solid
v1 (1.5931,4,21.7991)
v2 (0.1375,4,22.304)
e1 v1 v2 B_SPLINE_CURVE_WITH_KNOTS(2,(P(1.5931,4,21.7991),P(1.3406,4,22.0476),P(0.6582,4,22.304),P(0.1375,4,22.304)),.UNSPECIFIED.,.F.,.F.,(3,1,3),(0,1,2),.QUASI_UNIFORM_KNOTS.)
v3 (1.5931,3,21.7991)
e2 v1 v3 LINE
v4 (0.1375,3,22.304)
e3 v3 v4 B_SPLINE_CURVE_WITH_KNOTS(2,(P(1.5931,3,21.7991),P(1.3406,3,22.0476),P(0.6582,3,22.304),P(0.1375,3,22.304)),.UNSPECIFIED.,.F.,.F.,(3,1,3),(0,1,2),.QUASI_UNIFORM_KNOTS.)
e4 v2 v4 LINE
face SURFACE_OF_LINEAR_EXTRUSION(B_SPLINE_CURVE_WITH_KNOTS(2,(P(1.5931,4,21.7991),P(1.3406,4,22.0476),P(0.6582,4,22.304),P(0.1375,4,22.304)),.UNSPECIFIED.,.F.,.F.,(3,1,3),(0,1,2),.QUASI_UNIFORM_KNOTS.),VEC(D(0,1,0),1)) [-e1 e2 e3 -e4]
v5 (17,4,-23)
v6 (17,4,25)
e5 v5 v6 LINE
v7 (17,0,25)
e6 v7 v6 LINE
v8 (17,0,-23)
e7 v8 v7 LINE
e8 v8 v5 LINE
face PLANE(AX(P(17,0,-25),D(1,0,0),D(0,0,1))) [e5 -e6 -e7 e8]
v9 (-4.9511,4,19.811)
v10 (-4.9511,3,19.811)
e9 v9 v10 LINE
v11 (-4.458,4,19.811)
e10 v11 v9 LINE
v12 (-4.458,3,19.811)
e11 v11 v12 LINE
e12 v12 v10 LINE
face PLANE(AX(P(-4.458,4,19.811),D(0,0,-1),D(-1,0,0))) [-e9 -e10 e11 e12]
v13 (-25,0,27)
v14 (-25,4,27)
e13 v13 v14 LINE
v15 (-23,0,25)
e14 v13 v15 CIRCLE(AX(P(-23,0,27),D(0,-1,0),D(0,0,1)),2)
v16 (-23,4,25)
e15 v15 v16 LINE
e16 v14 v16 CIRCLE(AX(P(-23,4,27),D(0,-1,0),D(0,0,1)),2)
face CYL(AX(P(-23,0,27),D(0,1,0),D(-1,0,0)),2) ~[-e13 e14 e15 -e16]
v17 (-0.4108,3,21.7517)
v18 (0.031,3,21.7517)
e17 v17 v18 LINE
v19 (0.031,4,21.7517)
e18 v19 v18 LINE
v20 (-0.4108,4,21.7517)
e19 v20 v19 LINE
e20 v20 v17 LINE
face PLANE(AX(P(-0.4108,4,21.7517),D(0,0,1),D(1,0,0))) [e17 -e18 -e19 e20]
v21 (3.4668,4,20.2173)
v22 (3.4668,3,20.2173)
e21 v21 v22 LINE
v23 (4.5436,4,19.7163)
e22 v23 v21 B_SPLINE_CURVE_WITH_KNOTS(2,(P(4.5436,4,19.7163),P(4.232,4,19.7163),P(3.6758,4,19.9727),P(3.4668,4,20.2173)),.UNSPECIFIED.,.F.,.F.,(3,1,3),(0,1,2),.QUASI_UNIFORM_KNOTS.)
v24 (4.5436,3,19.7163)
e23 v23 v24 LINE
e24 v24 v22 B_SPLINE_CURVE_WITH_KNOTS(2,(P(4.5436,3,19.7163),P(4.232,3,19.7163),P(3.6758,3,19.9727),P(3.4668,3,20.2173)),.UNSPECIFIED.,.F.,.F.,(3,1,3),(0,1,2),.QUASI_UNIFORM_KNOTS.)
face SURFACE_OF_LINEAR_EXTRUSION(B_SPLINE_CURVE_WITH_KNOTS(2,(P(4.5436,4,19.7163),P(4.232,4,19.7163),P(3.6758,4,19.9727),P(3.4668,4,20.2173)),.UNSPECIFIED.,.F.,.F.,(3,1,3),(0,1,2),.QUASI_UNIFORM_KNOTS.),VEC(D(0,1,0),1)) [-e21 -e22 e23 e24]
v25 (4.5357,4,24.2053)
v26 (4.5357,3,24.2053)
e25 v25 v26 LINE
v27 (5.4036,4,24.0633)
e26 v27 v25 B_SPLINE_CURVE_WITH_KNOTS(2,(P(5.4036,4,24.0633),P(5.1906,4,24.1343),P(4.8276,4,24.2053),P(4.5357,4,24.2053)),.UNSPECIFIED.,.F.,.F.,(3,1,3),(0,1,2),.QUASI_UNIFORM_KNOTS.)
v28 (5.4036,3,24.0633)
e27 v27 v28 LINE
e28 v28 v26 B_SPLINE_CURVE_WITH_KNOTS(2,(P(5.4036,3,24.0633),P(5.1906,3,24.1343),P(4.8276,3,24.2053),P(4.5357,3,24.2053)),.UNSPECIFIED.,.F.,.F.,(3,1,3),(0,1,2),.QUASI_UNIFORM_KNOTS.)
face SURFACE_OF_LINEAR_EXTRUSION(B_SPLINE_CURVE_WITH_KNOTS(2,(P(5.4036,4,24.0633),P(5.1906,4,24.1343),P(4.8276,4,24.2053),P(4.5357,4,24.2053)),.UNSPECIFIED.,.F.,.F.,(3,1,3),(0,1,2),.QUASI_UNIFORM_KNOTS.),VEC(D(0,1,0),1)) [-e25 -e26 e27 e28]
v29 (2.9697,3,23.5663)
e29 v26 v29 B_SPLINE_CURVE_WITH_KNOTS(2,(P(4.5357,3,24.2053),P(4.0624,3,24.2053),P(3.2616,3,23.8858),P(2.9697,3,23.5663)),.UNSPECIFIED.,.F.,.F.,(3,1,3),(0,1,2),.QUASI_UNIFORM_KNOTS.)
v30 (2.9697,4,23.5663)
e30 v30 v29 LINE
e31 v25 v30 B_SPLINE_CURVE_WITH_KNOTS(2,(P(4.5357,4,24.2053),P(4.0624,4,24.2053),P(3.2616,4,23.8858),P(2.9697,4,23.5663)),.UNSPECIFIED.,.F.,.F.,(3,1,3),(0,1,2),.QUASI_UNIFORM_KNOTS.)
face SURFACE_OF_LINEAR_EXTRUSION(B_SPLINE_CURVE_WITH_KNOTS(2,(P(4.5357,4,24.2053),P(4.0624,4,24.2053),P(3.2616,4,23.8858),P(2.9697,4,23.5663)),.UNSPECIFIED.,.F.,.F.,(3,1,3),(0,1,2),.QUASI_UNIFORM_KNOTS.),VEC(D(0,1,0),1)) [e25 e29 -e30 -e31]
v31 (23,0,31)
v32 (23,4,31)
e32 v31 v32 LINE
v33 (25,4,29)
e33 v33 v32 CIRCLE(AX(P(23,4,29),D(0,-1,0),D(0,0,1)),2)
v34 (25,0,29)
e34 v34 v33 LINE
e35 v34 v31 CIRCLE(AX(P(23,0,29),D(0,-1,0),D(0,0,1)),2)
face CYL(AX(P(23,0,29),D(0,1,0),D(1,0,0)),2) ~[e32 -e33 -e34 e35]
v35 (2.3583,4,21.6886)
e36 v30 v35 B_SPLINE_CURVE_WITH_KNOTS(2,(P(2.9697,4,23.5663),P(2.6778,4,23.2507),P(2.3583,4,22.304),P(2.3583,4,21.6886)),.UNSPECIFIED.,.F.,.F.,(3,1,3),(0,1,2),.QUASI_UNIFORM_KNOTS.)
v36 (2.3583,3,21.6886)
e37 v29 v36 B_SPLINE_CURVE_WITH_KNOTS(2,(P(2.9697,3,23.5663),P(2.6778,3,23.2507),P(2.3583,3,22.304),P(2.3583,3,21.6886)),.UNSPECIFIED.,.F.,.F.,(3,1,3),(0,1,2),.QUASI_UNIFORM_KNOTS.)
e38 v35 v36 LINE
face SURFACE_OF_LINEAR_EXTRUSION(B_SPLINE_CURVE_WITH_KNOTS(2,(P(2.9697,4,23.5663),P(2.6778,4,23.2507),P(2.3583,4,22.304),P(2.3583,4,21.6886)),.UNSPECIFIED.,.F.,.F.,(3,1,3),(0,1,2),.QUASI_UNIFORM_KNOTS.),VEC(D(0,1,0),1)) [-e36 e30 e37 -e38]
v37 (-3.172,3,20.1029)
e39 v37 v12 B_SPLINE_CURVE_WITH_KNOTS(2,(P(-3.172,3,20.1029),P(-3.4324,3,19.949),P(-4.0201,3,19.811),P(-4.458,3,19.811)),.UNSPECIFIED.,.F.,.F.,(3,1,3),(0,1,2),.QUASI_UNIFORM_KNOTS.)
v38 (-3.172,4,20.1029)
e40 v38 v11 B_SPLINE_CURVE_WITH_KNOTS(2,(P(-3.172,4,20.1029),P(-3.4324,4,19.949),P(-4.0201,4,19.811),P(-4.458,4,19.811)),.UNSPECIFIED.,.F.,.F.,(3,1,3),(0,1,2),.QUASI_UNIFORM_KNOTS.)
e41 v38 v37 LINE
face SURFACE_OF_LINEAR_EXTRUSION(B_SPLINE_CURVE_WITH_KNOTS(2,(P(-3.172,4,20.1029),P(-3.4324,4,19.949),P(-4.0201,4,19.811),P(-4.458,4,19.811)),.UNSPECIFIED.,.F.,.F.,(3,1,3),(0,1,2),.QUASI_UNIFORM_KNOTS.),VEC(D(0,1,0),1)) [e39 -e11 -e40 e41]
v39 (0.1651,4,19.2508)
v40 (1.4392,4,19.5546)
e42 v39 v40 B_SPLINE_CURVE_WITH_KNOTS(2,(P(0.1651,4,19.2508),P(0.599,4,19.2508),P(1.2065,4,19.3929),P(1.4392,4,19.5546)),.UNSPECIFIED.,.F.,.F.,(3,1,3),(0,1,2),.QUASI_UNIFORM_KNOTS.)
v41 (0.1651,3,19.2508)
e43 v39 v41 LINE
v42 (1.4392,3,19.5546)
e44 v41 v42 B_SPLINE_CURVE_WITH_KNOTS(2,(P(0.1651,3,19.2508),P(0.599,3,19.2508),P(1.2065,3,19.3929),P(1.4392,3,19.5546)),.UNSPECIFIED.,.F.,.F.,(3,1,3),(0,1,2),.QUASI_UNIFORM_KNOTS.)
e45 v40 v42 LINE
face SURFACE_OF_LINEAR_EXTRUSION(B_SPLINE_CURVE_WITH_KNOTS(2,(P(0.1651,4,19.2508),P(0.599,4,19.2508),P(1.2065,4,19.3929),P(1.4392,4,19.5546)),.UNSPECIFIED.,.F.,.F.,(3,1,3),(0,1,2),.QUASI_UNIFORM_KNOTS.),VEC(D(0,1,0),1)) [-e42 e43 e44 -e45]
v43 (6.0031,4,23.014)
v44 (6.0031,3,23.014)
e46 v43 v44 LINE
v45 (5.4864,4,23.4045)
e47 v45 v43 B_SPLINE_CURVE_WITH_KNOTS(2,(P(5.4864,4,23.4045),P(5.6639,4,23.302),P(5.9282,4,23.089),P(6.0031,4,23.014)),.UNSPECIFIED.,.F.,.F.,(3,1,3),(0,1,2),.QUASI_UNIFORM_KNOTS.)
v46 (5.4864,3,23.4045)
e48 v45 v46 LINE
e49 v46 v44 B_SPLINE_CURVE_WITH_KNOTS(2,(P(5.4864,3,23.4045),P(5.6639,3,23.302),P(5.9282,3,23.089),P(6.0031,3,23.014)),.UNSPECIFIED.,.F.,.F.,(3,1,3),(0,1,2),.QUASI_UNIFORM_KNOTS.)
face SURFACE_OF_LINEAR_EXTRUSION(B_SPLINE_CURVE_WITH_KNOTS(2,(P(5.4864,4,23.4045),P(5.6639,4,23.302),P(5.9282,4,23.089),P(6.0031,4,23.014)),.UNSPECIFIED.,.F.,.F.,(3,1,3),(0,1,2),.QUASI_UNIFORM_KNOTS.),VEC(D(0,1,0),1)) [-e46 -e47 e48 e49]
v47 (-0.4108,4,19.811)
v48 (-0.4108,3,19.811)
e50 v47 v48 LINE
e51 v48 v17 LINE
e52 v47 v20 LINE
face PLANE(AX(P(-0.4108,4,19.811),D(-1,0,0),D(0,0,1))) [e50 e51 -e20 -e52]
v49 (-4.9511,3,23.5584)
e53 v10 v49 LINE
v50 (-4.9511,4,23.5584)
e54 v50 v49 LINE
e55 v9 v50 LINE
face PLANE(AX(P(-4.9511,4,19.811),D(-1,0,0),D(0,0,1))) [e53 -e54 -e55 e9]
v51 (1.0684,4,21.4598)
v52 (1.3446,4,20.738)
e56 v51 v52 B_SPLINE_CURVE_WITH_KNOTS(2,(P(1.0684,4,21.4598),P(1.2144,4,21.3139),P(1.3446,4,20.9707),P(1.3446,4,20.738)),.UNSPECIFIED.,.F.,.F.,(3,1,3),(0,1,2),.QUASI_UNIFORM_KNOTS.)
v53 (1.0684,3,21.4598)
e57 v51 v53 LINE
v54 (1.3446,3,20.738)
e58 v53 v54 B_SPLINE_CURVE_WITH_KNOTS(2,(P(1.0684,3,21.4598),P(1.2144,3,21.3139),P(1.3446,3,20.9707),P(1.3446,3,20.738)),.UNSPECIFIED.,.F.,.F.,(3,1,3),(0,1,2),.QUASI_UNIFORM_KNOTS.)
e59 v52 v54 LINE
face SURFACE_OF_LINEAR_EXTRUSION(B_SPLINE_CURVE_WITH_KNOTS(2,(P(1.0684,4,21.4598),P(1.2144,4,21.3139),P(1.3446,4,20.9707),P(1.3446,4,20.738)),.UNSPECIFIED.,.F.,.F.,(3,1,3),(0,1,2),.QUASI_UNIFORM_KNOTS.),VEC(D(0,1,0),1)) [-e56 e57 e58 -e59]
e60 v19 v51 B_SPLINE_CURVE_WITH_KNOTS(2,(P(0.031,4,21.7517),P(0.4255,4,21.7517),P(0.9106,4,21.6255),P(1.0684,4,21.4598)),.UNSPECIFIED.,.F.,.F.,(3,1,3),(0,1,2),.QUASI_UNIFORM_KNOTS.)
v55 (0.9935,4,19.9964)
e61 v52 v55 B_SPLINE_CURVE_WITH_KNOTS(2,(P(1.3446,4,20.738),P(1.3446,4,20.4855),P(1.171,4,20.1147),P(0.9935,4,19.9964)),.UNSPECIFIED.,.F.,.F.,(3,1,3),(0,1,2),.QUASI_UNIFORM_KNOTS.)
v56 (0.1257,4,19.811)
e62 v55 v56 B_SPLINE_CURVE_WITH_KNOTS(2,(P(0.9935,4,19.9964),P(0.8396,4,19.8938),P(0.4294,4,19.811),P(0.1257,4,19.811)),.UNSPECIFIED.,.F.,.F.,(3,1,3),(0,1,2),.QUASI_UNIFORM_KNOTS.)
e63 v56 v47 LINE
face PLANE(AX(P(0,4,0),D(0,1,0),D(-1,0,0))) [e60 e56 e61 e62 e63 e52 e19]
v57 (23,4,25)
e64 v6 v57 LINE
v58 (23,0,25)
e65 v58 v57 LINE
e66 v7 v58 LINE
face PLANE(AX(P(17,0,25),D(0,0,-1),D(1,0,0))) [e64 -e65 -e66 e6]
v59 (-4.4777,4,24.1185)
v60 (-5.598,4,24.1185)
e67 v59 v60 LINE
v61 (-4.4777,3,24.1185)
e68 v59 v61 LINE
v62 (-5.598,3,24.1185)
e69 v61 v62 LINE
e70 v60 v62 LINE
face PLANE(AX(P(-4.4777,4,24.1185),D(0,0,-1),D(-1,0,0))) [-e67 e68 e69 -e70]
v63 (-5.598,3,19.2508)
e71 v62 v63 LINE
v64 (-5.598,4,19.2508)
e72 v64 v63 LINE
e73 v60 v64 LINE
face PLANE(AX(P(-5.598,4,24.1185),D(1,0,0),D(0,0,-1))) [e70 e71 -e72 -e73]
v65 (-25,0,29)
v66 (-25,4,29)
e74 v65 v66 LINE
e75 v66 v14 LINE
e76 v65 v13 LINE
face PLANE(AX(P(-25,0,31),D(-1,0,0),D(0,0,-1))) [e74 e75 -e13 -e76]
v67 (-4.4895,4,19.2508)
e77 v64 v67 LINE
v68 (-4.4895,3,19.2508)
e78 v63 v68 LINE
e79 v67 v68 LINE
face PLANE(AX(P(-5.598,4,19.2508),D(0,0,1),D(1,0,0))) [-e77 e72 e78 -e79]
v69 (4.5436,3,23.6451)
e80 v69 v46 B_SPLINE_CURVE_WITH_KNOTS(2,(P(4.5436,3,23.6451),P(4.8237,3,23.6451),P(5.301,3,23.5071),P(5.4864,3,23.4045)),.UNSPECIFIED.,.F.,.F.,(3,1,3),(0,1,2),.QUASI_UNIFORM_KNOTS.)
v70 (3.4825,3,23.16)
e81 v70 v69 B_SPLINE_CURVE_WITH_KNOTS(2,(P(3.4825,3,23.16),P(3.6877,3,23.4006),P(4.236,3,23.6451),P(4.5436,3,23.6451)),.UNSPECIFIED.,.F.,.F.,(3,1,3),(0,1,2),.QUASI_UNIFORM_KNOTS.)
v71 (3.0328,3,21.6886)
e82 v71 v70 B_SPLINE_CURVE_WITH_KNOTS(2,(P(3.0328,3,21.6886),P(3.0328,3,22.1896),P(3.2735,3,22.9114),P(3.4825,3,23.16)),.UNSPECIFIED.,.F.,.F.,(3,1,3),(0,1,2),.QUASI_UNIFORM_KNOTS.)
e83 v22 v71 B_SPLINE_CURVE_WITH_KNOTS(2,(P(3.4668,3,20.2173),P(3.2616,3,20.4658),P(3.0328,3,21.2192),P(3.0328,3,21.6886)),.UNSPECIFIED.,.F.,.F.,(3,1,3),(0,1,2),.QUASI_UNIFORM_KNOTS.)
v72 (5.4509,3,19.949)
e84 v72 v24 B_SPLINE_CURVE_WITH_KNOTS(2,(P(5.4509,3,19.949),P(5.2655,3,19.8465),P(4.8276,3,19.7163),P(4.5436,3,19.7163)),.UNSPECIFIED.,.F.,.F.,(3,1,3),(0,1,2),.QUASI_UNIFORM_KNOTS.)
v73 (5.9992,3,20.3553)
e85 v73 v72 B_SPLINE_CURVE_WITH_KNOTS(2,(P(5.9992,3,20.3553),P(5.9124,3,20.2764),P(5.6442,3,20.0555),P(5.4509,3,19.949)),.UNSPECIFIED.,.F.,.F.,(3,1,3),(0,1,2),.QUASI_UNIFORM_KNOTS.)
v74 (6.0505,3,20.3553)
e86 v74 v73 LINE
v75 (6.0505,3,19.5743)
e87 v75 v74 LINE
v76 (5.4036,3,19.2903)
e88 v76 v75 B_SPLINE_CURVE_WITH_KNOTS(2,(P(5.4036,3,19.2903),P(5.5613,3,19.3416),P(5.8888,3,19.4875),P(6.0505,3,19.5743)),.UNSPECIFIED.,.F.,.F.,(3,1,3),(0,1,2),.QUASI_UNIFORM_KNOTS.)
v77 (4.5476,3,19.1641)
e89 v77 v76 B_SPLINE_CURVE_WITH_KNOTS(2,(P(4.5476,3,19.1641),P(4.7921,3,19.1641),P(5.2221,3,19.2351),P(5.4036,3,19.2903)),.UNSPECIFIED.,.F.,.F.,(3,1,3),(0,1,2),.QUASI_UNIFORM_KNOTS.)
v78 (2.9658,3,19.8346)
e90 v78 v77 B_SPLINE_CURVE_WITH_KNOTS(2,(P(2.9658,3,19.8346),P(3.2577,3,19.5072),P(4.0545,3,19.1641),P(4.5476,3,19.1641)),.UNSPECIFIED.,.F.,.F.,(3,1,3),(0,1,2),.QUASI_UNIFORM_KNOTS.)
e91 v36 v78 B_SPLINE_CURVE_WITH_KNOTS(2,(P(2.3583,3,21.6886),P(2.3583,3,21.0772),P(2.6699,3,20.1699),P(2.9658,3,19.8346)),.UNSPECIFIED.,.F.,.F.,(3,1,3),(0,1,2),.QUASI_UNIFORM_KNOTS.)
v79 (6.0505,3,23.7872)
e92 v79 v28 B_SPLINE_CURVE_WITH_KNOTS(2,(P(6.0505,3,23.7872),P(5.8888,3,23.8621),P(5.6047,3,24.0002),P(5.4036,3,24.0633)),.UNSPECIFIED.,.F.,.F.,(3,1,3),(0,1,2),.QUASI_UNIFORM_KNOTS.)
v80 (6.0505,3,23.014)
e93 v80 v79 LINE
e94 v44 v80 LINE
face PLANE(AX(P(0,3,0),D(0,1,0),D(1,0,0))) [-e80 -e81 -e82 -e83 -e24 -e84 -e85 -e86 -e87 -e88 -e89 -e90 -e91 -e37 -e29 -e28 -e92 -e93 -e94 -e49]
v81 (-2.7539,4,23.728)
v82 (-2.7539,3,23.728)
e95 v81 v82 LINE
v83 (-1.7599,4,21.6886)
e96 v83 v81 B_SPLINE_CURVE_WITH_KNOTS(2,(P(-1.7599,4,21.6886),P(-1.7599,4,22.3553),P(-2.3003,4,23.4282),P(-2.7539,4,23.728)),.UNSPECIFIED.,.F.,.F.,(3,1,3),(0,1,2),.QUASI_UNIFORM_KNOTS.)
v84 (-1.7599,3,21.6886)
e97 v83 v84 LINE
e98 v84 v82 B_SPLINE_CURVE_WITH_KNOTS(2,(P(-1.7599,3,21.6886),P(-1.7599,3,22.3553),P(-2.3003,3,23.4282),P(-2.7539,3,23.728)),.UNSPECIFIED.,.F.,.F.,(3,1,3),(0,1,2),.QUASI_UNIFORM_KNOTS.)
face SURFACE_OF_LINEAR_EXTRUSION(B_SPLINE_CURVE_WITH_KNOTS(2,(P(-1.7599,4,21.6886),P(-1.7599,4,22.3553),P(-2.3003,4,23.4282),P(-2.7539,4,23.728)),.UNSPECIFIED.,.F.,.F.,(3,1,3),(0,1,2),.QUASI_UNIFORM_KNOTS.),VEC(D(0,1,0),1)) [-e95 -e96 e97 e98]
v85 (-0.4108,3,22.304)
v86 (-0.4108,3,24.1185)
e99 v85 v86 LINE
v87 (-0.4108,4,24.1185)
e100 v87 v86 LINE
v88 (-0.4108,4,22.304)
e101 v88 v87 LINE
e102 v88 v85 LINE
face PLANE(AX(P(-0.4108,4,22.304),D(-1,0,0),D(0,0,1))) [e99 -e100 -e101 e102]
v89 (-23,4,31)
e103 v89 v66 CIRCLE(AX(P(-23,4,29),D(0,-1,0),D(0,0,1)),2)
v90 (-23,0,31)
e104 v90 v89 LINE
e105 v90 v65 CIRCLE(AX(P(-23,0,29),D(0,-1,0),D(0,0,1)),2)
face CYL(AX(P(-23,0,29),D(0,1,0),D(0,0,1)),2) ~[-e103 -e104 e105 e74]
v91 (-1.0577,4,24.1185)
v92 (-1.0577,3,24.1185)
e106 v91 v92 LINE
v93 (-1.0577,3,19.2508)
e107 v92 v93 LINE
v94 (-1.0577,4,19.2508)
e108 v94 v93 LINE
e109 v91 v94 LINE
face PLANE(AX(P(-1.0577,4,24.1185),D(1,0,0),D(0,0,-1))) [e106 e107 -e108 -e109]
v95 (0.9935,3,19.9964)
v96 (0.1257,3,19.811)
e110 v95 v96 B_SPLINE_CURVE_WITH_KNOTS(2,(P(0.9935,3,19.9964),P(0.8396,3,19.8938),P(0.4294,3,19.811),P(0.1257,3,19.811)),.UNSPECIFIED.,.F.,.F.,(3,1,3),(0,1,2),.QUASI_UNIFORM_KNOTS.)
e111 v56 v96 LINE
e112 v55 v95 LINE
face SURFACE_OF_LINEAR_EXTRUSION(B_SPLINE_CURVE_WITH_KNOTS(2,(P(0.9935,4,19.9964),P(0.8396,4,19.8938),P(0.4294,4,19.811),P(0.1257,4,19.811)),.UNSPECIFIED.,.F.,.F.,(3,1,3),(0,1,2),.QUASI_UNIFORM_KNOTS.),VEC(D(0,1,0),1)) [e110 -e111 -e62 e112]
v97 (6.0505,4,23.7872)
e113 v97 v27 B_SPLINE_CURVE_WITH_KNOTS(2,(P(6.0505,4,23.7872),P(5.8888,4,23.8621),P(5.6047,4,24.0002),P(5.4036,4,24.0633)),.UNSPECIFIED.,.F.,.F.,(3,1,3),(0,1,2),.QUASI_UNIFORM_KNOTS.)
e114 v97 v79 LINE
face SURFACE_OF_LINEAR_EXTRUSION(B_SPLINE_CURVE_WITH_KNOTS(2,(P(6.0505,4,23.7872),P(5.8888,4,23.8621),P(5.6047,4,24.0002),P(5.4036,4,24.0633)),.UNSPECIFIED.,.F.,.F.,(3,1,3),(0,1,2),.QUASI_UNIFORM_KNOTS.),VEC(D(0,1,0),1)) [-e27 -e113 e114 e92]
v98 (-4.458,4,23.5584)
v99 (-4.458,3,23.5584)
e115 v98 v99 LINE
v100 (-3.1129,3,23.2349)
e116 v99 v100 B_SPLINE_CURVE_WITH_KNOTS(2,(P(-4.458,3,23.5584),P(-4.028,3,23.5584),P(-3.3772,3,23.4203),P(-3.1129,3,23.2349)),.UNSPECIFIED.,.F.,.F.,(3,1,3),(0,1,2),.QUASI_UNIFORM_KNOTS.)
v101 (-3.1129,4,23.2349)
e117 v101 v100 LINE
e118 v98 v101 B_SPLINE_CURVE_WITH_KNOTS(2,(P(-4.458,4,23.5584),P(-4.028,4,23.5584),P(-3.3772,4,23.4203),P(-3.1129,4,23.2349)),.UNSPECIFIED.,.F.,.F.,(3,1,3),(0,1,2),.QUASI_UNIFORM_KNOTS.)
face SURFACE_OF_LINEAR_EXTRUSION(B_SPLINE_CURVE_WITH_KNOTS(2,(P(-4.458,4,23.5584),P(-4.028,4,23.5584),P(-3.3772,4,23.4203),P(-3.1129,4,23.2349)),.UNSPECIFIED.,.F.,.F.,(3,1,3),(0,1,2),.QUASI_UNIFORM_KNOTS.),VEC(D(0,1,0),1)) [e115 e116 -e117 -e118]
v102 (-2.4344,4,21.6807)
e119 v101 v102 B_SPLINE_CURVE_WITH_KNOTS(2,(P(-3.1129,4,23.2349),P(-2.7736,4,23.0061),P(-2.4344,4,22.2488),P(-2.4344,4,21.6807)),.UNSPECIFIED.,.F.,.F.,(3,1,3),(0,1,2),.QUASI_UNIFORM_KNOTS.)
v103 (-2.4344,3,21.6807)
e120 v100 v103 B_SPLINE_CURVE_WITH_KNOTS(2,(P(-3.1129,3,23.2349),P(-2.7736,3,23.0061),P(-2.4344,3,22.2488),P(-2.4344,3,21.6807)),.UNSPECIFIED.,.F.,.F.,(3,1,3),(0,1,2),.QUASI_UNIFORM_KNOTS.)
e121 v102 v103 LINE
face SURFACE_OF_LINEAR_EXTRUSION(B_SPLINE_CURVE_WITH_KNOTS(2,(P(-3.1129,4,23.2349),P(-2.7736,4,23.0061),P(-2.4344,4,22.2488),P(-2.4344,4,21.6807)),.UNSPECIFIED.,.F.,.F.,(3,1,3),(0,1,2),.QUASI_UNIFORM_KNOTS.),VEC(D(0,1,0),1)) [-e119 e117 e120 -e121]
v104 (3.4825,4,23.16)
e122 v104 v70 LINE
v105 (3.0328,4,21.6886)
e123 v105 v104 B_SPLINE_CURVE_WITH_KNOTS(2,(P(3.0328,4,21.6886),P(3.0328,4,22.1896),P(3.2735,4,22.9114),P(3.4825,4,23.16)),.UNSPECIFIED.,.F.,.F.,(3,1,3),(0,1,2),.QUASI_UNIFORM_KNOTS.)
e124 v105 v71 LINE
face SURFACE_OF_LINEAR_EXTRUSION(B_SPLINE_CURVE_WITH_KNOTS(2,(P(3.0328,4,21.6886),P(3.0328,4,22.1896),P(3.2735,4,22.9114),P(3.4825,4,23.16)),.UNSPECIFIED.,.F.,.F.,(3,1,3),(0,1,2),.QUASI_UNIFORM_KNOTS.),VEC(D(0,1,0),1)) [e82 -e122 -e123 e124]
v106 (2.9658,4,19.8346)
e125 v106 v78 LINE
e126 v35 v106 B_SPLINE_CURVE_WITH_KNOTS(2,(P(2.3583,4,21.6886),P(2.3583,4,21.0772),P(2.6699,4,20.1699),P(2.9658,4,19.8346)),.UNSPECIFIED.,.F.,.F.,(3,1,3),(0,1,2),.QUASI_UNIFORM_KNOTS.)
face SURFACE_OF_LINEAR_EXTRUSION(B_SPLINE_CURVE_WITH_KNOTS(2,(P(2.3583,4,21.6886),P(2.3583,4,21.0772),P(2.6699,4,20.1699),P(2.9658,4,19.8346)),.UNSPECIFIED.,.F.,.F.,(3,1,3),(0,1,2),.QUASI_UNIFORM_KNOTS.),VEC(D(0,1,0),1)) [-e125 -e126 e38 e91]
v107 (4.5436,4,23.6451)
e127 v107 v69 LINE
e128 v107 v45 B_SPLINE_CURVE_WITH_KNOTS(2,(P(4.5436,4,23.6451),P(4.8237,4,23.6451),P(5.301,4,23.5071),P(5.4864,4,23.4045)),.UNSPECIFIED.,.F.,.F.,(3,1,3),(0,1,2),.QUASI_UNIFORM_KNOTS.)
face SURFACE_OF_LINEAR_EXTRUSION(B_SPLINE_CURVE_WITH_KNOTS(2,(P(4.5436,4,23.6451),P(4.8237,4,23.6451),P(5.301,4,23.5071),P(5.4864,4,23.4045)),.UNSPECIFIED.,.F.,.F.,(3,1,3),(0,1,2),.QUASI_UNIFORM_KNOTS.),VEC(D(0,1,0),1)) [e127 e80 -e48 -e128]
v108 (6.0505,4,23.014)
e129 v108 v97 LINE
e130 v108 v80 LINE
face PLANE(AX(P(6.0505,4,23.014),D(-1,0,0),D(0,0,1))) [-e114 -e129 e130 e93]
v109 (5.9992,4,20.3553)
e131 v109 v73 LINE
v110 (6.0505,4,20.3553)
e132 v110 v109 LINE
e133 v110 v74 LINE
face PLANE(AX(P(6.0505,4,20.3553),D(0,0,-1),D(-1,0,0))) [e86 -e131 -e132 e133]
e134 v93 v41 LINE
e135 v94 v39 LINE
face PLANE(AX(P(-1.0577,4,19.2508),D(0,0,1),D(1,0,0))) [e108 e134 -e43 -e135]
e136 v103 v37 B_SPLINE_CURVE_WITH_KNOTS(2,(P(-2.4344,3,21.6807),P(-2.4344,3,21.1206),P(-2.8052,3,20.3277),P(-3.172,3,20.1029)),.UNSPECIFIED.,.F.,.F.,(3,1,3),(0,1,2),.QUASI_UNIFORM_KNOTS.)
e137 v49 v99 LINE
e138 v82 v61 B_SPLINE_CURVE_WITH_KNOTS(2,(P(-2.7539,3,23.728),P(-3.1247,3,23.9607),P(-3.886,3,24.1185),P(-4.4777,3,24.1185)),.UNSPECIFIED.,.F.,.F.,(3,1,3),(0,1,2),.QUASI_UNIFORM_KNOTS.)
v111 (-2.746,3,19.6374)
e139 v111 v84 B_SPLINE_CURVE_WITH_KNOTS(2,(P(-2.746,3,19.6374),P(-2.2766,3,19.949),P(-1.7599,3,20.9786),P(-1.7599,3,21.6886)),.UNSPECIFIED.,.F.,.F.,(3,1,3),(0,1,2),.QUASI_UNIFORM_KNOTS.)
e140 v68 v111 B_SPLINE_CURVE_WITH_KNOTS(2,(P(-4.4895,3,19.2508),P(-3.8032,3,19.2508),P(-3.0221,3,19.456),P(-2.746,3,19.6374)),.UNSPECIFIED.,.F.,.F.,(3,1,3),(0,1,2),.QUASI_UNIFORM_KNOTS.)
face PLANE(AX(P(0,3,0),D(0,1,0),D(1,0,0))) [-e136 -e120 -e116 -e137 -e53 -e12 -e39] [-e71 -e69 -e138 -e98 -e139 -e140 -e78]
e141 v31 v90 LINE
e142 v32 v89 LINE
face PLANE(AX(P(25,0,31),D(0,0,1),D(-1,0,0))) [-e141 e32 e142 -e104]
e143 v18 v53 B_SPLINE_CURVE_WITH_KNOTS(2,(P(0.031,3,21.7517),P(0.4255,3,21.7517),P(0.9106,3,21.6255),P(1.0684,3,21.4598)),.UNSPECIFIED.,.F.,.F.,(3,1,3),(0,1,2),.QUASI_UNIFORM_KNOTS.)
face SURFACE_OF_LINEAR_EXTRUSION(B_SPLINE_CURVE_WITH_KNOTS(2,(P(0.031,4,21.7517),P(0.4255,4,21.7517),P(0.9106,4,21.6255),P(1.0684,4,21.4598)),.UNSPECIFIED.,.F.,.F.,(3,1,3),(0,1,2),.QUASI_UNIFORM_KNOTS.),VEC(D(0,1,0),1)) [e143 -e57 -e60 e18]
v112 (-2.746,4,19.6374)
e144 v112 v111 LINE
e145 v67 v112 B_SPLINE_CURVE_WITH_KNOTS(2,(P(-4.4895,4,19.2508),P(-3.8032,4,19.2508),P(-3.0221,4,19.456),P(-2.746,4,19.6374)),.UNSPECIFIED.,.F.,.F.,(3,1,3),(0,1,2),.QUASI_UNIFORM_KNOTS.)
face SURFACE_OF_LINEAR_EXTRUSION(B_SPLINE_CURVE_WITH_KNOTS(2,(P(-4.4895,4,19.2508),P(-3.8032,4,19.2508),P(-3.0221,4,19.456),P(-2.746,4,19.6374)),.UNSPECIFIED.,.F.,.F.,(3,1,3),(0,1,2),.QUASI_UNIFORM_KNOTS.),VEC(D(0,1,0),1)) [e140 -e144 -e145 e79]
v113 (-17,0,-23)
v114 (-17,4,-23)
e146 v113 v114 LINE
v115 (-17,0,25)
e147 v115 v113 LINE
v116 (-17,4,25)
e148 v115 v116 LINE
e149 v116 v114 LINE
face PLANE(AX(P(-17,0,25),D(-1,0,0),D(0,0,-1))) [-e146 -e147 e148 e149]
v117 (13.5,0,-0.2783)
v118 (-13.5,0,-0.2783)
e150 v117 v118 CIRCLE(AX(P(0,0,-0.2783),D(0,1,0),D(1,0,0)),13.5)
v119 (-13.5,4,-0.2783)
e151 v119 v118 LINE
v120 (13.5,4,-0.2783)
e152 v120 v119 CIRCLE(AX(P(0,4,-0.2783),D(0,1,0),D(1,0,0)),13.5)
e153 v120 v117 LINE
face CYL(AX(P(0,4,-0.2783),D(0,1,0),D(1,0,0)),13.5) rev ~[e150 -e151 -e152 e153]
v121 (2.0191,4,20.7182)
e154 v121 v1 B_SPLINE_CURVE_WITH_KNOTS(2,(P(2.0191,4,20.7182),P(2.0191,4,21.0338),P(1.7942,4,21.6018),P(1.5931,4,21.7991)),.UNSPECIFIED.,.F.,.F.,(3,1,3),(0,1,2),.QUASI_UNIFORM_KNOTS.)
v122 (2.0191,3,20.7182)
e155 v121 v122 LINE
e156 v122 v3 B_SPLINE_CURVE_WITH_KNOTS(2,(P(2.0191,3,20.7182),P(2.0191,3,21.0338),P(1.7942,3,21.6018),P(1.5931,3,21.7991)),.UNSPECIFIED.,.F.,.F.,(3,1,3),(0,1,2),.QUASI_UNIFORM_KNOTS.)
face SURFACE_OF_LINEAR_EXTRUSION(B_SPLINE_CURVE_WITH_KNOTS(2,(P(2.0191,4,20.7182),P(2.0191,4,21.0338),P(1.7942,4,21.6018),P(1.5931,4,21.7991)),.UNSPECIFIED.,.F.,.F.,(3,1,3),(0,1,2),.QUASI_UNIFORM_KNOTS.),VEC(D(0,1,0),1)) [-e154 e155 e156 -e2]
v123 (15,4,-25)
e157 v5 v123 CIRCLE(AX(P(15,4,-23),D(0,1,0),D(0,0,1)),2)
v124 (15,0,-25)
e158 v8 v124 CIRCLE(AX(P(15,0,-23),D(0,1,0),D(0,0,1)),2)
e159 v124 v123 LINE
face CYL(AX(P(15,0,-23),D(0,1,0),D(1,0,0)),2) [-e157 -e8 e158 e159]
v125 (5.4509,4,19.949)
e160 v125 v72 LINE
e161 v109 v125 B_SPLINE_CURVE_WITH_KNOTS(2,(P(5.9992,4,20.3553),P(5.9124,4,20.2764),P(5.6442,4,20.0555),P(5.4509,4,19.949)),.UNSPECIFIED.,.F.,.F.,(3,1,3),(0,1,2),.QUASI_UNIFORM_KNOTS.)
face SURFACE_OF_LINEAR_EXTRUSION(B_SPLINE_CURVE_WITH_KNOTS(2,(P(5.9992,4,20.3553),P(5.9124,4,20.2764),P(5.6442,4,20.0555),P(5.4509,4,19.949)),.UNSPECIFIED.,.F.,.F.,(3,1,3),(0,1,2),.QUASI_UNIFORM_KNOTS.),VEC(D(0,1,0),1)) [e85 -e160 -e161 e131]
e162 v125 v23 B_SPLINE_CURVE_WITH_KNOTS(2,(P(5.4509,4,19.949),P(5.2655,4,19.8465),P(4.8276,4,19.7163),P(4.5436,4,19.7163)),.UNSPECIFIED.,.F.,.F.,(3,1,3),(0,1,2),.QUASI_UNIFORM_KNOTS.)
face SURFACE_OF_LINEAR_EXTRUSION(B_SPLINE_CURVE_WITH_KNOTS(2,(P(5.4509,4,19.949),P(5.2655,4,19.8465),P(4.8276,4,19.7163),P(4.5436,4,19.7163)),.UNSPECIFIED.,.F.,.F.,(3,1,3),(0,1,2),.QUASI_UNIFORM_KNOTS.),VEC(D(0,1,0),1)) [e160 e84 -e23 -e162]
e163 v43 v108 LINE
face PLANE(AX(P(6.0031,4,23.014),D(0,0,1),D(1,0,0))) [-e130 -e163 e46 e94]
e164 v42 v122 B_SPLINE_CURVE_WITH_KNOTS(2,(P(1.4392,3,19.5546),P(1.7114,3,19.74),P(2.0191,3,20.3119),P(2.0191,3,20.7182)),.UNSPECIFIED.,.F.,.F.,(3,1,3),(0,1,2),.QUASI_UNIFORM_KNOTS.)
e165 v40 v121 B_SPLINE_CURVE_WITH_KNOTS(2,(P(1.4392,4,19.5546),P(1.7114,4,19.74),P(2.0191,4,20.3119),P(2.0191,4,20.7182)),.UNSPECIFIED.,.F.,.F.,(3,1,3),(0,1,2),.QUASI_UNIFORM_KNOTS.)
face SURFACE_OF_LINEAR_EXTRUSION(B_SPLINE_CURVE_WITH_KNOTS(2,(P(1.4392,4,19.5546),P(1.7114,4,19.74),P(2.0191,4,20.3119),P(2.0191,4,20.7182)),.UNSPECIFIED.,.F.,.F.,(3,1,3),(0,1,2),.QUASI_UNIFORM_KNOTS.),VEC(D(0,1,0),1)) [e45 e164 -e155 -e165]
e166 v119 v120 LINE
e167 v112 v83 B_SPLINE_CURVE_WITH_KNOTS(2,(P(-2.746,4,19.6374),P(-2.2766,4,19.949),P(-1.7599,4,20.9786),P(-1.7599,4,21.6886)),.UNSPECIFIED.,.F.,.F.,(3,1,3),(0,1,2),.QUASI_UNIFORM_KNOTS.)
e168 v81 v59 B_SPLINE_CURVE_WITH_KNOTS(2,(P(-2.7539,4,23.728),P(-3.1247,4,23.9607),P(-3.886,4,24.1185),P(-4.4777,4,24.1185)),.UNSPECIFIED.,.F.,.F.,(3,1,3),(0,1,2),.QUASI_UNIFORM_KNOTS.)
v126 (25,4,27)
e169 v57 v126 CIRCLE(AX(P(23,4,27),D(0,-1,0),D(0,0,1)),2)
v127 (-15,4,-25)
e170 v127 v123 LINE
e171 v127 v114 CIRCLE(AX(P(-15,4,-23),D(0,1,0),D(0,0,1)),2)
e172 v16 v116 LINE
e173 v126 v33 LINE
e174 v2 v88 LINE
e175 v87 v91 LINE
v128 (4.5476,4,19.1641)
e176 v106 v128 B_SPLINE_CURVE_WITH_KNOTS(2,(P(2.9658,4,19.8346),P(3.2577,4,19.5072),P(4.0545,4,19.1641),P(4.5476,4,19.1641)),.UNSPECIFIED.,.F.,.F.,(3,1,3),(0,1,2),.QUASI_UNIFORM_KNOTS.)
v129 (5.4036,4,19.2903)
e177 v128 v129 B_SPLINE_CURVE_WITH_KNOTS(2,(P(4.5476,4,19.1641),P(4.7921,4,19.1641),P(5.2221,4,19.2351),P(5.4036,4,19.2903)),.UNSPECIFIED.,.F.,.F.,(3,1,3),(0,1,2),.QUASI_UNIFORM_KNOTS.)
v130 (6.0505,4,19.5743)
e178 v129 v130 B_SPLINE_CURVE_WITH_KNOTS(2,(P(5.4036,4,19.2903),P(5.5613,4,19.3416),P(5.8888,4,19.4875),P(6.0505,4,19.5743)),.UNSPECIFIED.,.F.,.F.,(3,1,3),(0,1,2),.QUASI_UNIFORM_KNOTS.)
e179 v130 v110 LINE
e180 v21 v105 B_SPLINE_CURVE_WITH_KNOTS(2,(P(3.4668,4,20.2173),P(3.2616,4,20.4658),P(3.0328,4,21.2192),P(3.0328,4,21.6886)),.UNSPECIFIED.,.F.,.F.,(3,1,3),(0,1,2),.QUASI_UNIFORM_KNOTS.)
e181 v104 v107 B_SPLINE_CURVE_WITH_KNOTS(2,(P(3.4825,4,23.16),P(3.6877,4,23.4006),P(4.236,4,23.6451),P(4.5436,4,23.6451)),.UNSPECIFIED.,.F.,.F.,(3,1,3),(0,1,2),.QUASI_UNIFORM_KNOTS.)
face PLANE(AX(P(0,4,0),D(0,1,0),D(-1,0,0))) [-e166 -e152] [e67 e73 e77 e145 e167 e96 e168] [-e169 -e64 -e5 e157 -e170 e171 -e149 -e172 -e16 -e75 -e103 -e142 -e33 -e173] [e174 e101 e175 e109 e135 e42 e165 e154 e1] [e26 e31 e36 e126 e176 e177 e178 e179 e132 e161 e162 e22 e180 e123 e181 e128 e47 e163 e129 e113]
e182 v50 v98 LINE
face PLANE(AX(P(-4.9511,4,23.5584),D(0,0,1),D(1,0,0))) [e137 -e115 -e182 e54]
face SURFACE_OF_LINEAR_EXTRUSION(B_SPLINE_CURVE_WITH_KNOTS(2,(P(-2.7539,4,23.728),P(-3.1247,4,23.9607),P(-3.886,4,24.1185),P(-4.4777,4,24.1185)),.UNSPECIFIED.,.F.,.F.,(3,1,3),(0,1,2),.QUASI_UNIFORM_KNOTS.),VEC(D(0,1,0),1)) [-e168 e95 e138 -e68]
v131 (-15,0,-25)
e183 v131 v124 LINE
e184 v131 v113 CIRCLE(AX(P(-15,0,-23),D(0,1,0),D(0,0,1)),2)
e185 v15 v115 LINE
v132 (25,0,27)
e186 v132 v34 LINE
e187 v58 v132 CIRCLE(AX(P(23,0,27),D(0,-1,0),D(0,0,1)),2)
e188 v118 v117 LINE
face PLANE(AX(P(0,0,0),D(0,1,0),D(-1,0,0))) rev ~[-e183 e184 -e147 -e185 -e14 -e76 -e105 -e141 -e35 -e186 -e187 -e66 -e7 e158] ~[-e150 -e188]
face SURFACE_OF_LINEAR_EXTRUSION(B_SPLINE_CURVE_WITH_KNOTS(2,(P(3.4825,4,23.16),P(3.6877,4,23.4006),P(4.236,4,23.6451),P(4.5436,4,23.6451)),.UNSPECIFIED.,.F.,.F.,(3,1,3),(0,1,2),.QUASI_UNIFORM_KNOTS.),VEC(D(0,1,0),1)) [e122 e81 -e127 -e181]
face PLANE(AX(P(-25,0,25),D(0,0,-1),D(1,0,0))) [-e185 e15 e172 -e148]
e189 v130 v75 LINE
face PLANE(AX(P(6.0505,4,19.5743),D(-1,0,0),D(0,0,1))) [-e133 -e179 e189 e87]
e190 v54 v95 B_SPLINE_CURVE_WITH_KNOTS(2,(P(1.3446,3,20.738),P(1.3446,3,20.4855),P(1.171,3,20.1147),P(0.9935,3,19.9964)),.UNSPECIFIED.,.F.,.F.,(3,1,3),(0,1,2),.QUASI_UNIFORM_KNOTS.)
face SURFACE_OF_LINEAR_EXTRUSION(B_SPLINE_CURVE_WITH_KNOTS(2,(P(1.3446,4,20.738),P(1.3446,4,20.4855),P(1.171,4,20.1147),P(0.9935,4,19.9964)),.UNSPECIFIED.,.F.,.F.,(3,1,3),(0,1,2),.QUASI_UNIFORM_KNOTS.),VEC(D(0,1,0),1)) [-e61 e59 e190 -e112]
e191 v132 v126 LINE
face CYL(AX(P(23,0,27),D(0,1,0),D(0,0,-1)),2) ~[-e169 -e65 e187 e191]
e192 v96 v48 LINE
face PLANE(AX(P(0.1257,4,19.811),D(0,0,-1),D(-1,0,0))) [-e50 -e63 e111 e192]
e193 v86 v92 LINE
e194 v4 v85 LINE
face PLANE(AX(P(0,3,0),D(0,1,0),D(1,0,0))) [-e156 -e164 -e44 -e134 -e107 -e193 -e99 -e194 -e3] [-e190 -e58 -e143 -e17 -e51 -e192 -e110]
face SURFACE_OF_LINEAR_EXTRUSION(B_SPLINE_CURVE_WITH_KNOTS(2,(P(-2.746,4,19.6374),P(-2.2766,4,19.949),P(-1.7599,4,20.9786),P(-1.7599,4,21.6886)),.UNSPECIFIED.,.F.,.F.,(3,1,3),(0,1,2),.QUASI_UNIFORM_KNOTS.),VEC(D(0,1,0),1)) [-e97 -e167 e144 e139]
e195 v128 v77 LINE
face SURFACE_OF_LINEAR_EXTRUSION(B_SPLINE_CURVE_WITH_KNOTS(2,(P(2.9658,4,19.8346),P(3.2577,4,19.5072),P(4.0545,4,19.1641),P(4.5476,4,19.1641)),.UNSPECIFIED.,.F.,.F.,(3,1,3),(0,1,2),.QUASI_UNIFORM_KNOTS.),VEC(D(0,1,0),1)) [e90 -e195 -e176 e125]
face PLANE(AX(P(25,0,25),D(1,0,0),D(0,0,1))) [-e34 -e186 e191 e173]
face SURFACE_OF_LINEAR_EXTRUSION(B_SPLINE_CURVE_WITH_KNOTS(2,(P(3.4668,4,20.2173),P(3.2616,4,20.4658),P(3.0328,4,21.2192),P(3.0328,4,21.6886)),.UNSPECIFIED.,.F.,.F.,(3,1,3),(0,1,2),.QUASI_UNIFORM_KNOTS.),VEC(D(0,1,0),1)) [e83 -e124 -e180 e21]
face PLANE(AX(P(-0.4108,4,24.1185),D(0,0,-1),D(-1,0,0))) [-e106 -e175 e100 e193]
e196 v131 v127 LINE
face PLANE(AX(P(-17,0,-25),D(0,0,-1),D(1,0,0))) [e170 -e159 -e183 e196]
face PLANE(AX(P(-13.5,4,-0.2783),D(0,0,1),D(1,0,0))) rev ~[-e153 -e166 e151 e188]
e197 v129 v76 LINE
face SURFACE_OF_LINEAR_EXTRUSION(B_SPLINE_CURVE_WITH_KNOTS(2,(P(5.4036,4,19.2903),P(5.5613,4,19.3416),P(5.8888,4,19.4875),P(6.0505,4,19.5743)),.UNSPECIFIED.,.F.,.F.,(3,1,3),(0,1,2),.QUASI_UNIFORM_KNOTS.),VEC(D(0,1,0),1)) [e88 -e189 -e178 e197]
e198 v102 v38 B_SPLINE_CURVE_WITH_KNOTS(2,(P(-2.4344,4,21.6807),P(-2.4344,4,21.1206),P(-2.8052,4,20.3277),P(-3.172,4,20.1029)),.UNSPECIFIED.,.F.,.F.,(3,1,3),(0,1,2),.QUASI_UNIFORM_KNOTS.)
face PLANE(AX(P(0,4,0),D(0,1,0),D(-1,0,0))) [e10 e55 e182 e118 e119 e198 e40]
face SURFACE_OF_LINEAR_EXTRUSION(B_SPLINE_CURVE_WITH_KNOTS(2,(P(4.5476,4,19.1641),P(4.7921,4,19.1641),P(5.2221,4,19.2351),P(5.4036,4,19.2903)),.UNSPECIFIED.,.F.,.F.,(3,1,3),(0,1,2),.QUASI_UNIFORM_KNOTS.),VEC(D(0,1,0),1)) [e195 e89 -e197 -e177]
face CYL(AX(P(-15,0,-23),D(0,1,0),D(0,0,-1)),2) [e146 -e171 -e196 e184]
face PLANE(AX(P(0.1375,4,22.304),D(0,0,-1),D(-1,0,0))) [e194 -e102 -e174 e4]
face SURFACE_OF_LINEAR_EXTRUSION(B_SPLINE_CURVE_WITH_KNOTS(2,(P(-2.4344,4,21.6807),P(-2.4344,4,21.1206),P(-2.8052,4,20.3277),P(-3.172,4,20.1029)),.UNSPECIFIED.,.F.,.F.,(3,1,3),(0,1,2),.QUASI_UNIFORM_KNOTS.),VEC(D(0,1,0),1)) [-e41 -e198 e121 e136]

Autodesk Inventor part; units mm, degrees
ref_plane "YZ Plane" through (0, 0, 0) normal (1, 0, 0) x (0, 1, 0)
ref_plane "XZ Plane" through (0, 0, 0) normal (0, 1, 0) x (-1, 0, 0)
ref_plane "XY Plane" through (0, 0, 0) normal (0, 0, 1) x (1, 0, 0)
sketch "Sketch1" plane through (0, 0, 0) normal (0, 1, 0) x (-1, 0, 0)
  line L0 (-17, 25) -> (17, 25)
  line L1 (17, 25) -> (17, -25)
  line L2 (17, -25) -> (-17, -25)
  line L3 (-17, -25) -> (-17, 25)
  line L4 (-17, 25) -> (17, -25) construction
  line L5 (17, 25) -> (-17, -25) construction
  line L6 (9, -17) -> (9, 17)
  line L7 (9, 17) -> (-9, 17)
  line L8 (-9, 17) -> (-9, -17)
  line L9 (-9, -17) -> (9, -17)
  line L10 (-25, 31) -> (25, 31)
  line L11 (25, 31) -> (25, 25)
  line L12 (25, 25) -> (-25, 25)
  line L13 (-25, 25) -> (-25, 31)
  line L14 (-25, 31) -> (25, 25) construction
  line L15 (25, 31) -> (-25, 25) construction
  point P0 (0, 0)
  point P1 (0, 28)
  point P2 (0, 25)
  dimension "d0" = 34
  dimension "d1" = 50
  dimension "d2" = 8
  dimension "d3" = 50
  dimension "d4" = 6
extrude "Extrusion1" add sketch "Sketch1" along normal blind 4 contours L12 L13 L10 L11 L0 | L0 L1 L2 L3 | L9 L8 L7 L6
sketch "Sketch2" plane through (0, 4, 0) normal (0, 1, 0) x (1, 0, 0)
  line L0 (25, -25) -> (17, -25) projected
  line L1 (17, -25) -> (17, 25) projected
  line L2 (17, 25) -> (-17, 25) projected
  line L3 (-17, 25) -> (-17, -25) projected
  line L4 (-17, -25) -> (-25, -25) projected
  line L5 (-25, -25) -> (-25, -31) projected
  line L6 (-25, -31) -> (25, -31) projected
  line L7 (25, -31) -> (25, -25) projected
  line L8 (13.5, 17) -> (-13.5, 17)
  line L9 (-13.5, 17) -> (-13.5, -17)
  line L10 (-13.5, -17) -> (13.5, -17)
  line L11 (13.5, -17) -> (13.5, 17)
  line L12 (13.5, 17) -> (-13.5, -17) construction
  line L13 (-13.5, 17) -> (13.5, -17) construction
  circle A0 centre (0, 0.2783) radius 13.5
  line L14 (-13.5, 0.2783) -> (13.5, 0.2783)
  point P0 (-1.4697, 0.3)
  point P1 (1.4697, 0.3)
  point P2 (13.5, 0)
  point P3 (-13.5, 0)
  dimension "d7" = 27
  dimension "d8" = 34
extrude "Extrusion2" cut sketch "Sketch2" against normal through all contours L14 A0 picked at (2.5563, 3.9817)
sketch "Sketch3" plane through (0, 4, 0) normal (0, 1, 0) x (1, 0, 0)
  line L0 (-6.091, -19.1641) -> (19.1348, -19.1641) construction
  line L1 (19.1348, -19.1641) -> (19.1348, -24.3512) construction
  line L2 (19.1348, -24.3512) -> (-6.091, -24.3512) construction
  line L3 (-6.091, -24.3512) -> (-6.091, -19.1641) construction
  spline S0 degree 2 poles (-1.7599, -21.6886) (-1.7599, -22.3553) (-2.3003, -23.4282) (-2.7539, -23.728) knots 0 0 0 1 2 2 2
  spline S1 degree 2 poles (-2.7539, -23.728) (-3.1247, -23.9607) (-3.886, -24.1185) (-4.4777, -24.1185) knots 0 0 0 1 2 2 2
  line L4 (-4.4777, -24.1185) -> (-5.598, -24.1185)
  line L5 (-5.598, -24.1185) -> (-5.598, -19.2508)
  line L6 (-5.598, -19.2508) -> (-4.4895, -19.2508)
  spline S2 degree 2 poles (-4.4895, -19.2508) (-3.8032, -19.2508) (-3.0221, -19.456) (-2.746, -19.6374) knots 0 0 0 1 2 2 2
  spline S3 degree 2 poles (-2.746, -19.6374) (-2.2766, -19.949) (-1.7599, -20.9786) (-1.7599, -21.6886) knots 0 0 0 1 2 2 2
  spline S4 degree 2 poles (-2.4344, -21.6807) (-2.4344, -21.1206) (-2.8052, -20.3277) (-3.172, -20.1029) knots 0 0 0 1 2 2 2
  spline S5 degree 2 poles (-3.172, -20.1029) (-3.4324, -19.949) (-4.0201, -19.811) (-4.458, -19.811) knots 0 0 0 1 2 2 2
  line L7 (-4.458, -19.811) -> (-4.9511, -19.811)
  line L8 (-4.9511, -19.811) -> (-4.9511, -23.5584)
  line L9 (-4.9511, -23.5584) -> (-4.458, -23.5584)
  spline S6 degree 2 poles (-4.458, -23.5584) (-4.028, -23.5584) (-3.3772, -23.4203) (-3.1129, -23.2349) knots 0 0 0 1 2 2 2
  spline S7 degree 2 poles (-3.1129, -23.2349) (-2.7736, -23.0061) (-2.4344, -22.2488) (-2.4344, -21.6807) knots 0 0 0 1 2 2 2
  spline S8 degree 2 poles (2.0191, -20.7182) (2.0191, -21.0338) (1.7942, -21.6018) (1.5931, -21.7991) knots 0 0 0 1 2 2 2
  spline S9 degree 2 poles (1.5931, -21.7991) (1.3406, -22.0476) (0.6582, -22.304) (0.1375, -22.304) knots 0 0 0 1 2 2 2
  line L10 (0.1375, -22.304) -> (-0.4108, -22.304)
  line L11 (-0.4108, -22.304) -> (-0.4108, -24.1185)
  line L12 (-0.4108, -24.1185) -> (-1.0577, -24.1185)
  line L13 (-1.0577, -24.1185) -> (-1.0577, -19.2508)
  line L14 (-1.0577, -19.2508) -> (0.1651, -19.2508)
  spline S10 degree 2 poles (0.1651, -19.2508) (0.599, -19.2508) (1.2065, -19.3929) (1.4392, -19.5546) knots 0 0 0 1 2 2 2
  spline S11 degree 2 poles (1.4392, -19.5546) (1.7114, -19.74) (2.0191, -20.3119) (2.0191, -20.7182) knots 0 0 0 1 2 2 2
  spline S12 degree 2 poles (1.3446, -20.738) (1.3446, -20.4855) (1.171, -20.1147) (0.9935, -19.9964) knots 0 0 0 1 2 2 2
  spline S13 degree 2 poles (0.9935, -19.9964) (0.8396, -19.8938) (0.4294, -19.811) (0.1257, -19.811) knots 0 0 0 1 2 2 2
  line L15 (0.1257, -19.811) -> (-0.4108, -19.811)
  line L16 (-0.4108, -19.811) -> (-0.4108, -21.7517)
  line L17 (-0.4108, -21.7517) -> (0.031, -21.7517)
  spline S14 degree 2 poles (0.031, -21.7517) (0.4255, -21.7517) (0.9106, -21.6255) (1.0684, -21.4598) knots 0 0 0 1 2 2 2
  spline S15 degree 2 poles (1.0684, -21.4598) (1.2144, -21.3139) (1.3446, -20.9707) (1.3446, -20.738) knots 0 0 0 1 2 2 2
  spline S16 degree 2 poles (4.5357, -24.2053) (4.0624, -24.2053) (3.2616, -23.8858) (2.9697, -23.5663) knots 0 0 0 1 2 2 2
  spline S17 degree 2 poles (2.9697, -23.5663) (2.6778, -23.2507) (2.3583, -22.304) (2.3583, -21.6886) knots 0 0 0 1 2 2 2
  spline S18 degree 2 poles (2.3583, -21.6886) (2.3583, -21.0772) (2.6699, -20.1699) (2.9658, -19.8346) knots 0 0 0 1 2 2 2
  spline S19 degree 2 poles (2.9658, -19.8346) (3.2577, -19.5072) (4.0545, -19.1641) (4.5476, -19.1641) knots 0 0 0 1 2 2 2
  spline S20 degree 2 poles (4.5476, -19.1641) (4.7921, -19.1641) (5.2221, -19.2351) (5.4036, -19.2903) knots 0 0 0 1 2 2 2
  spline S21 degree 2 poles (5.4036, -19.2903) (5.5613, -19.3416) (5.8888, -19.4875) (6.0505, -19.5743) knots 0 0 0 1 2 2 2
  line L18 (6.0505, -19.5743) -> (6.0505, -20.3553)
  line L19 (6.0505, -20.3553) -> (5.9992, -20.3553)
  spline S22 degree 2 poles (5.9992, -20.3553) (5.9124, -20.2764) (5.6442, -20.0555) (5.4509, -19.949) knots 0 0 0 1 2 2 2
  spline S23 degree 2 poles (5.4509, -19.949) (5.2655, -19.8465) (4.8276, -19.7163) (4.5436, -19.7163) knots 0 0 0 1 2 2 2
  spline S24 degree 2 poles (4.5436, -19.7163) (4.232, -19.7163) (3.6758, -19.9727) (3.4668, -20.2173) knots 0 0 0 1 2 2 2
  spline S25 degree 2 poles (3.4668, -20.2173) (3.2616, -20.4658) (3.0328, -21.2192) (3.0328, -21.6886) knots 0 0 0 1 2 2 2
  spline S26 degree 2 poles (3.0328, -21.6886) (3.0328, -22.1896) (3.2735, -22.9114) (3.4825, -23.16) knots 0 0 0 1 2 2 2
  spline S27 degree 2 poles (3.4825, -23.16) (3.6877, -23.4006) (4.236, -23.6451) (4.5436, -23.6451) knots 0 0 0 1 2 2 2
  spline S28 degree 2 poles (4.5436, -23.6451) (4.8237, -23.6451) (5.301, -23.5071) (5.4864, -23.4045) knots 0 0 0 1 2 2 2
  spline S29 degree 2 poles (5.4864, -23.4045) (5.6639, -23.302) (5.9282, -23.089) (6.0031, -23.014) knots 0 0 0 1 2 2 2
  line L20 (6.0031, -23.014) -> (6.0505, -23.014)
  line L21 (6.0505, -23.014) -> (6.0505, -23.7872)
  spline S30 degree 2 poles (6.0505, -23.7872) (5.8888, -23.8621) (5.6047, -24.0002) (5.4036, -24.0633) knots 0 0 0 1 2 2 2
  spline S31 degree 2 poles (5.4036, -24.0633) (5.1906, -24.1343) (4.8276, -24.2053) (4.5357, -24.2053) knots 0 0 0 1 2 2 2
  point P0 (0, 0)
extrude "Extrusion3" cut sketch "Sketch3" against normal blind 1
fillet "Fillet1" radius 2 6 edges at (25, 2, 31) (25, 2, 25) (-25, 2, 31) (-25, 2, 25) (-17, 2, -25) (17, 2, -25)
properties part number "00_Slider_Mask_DPC"
